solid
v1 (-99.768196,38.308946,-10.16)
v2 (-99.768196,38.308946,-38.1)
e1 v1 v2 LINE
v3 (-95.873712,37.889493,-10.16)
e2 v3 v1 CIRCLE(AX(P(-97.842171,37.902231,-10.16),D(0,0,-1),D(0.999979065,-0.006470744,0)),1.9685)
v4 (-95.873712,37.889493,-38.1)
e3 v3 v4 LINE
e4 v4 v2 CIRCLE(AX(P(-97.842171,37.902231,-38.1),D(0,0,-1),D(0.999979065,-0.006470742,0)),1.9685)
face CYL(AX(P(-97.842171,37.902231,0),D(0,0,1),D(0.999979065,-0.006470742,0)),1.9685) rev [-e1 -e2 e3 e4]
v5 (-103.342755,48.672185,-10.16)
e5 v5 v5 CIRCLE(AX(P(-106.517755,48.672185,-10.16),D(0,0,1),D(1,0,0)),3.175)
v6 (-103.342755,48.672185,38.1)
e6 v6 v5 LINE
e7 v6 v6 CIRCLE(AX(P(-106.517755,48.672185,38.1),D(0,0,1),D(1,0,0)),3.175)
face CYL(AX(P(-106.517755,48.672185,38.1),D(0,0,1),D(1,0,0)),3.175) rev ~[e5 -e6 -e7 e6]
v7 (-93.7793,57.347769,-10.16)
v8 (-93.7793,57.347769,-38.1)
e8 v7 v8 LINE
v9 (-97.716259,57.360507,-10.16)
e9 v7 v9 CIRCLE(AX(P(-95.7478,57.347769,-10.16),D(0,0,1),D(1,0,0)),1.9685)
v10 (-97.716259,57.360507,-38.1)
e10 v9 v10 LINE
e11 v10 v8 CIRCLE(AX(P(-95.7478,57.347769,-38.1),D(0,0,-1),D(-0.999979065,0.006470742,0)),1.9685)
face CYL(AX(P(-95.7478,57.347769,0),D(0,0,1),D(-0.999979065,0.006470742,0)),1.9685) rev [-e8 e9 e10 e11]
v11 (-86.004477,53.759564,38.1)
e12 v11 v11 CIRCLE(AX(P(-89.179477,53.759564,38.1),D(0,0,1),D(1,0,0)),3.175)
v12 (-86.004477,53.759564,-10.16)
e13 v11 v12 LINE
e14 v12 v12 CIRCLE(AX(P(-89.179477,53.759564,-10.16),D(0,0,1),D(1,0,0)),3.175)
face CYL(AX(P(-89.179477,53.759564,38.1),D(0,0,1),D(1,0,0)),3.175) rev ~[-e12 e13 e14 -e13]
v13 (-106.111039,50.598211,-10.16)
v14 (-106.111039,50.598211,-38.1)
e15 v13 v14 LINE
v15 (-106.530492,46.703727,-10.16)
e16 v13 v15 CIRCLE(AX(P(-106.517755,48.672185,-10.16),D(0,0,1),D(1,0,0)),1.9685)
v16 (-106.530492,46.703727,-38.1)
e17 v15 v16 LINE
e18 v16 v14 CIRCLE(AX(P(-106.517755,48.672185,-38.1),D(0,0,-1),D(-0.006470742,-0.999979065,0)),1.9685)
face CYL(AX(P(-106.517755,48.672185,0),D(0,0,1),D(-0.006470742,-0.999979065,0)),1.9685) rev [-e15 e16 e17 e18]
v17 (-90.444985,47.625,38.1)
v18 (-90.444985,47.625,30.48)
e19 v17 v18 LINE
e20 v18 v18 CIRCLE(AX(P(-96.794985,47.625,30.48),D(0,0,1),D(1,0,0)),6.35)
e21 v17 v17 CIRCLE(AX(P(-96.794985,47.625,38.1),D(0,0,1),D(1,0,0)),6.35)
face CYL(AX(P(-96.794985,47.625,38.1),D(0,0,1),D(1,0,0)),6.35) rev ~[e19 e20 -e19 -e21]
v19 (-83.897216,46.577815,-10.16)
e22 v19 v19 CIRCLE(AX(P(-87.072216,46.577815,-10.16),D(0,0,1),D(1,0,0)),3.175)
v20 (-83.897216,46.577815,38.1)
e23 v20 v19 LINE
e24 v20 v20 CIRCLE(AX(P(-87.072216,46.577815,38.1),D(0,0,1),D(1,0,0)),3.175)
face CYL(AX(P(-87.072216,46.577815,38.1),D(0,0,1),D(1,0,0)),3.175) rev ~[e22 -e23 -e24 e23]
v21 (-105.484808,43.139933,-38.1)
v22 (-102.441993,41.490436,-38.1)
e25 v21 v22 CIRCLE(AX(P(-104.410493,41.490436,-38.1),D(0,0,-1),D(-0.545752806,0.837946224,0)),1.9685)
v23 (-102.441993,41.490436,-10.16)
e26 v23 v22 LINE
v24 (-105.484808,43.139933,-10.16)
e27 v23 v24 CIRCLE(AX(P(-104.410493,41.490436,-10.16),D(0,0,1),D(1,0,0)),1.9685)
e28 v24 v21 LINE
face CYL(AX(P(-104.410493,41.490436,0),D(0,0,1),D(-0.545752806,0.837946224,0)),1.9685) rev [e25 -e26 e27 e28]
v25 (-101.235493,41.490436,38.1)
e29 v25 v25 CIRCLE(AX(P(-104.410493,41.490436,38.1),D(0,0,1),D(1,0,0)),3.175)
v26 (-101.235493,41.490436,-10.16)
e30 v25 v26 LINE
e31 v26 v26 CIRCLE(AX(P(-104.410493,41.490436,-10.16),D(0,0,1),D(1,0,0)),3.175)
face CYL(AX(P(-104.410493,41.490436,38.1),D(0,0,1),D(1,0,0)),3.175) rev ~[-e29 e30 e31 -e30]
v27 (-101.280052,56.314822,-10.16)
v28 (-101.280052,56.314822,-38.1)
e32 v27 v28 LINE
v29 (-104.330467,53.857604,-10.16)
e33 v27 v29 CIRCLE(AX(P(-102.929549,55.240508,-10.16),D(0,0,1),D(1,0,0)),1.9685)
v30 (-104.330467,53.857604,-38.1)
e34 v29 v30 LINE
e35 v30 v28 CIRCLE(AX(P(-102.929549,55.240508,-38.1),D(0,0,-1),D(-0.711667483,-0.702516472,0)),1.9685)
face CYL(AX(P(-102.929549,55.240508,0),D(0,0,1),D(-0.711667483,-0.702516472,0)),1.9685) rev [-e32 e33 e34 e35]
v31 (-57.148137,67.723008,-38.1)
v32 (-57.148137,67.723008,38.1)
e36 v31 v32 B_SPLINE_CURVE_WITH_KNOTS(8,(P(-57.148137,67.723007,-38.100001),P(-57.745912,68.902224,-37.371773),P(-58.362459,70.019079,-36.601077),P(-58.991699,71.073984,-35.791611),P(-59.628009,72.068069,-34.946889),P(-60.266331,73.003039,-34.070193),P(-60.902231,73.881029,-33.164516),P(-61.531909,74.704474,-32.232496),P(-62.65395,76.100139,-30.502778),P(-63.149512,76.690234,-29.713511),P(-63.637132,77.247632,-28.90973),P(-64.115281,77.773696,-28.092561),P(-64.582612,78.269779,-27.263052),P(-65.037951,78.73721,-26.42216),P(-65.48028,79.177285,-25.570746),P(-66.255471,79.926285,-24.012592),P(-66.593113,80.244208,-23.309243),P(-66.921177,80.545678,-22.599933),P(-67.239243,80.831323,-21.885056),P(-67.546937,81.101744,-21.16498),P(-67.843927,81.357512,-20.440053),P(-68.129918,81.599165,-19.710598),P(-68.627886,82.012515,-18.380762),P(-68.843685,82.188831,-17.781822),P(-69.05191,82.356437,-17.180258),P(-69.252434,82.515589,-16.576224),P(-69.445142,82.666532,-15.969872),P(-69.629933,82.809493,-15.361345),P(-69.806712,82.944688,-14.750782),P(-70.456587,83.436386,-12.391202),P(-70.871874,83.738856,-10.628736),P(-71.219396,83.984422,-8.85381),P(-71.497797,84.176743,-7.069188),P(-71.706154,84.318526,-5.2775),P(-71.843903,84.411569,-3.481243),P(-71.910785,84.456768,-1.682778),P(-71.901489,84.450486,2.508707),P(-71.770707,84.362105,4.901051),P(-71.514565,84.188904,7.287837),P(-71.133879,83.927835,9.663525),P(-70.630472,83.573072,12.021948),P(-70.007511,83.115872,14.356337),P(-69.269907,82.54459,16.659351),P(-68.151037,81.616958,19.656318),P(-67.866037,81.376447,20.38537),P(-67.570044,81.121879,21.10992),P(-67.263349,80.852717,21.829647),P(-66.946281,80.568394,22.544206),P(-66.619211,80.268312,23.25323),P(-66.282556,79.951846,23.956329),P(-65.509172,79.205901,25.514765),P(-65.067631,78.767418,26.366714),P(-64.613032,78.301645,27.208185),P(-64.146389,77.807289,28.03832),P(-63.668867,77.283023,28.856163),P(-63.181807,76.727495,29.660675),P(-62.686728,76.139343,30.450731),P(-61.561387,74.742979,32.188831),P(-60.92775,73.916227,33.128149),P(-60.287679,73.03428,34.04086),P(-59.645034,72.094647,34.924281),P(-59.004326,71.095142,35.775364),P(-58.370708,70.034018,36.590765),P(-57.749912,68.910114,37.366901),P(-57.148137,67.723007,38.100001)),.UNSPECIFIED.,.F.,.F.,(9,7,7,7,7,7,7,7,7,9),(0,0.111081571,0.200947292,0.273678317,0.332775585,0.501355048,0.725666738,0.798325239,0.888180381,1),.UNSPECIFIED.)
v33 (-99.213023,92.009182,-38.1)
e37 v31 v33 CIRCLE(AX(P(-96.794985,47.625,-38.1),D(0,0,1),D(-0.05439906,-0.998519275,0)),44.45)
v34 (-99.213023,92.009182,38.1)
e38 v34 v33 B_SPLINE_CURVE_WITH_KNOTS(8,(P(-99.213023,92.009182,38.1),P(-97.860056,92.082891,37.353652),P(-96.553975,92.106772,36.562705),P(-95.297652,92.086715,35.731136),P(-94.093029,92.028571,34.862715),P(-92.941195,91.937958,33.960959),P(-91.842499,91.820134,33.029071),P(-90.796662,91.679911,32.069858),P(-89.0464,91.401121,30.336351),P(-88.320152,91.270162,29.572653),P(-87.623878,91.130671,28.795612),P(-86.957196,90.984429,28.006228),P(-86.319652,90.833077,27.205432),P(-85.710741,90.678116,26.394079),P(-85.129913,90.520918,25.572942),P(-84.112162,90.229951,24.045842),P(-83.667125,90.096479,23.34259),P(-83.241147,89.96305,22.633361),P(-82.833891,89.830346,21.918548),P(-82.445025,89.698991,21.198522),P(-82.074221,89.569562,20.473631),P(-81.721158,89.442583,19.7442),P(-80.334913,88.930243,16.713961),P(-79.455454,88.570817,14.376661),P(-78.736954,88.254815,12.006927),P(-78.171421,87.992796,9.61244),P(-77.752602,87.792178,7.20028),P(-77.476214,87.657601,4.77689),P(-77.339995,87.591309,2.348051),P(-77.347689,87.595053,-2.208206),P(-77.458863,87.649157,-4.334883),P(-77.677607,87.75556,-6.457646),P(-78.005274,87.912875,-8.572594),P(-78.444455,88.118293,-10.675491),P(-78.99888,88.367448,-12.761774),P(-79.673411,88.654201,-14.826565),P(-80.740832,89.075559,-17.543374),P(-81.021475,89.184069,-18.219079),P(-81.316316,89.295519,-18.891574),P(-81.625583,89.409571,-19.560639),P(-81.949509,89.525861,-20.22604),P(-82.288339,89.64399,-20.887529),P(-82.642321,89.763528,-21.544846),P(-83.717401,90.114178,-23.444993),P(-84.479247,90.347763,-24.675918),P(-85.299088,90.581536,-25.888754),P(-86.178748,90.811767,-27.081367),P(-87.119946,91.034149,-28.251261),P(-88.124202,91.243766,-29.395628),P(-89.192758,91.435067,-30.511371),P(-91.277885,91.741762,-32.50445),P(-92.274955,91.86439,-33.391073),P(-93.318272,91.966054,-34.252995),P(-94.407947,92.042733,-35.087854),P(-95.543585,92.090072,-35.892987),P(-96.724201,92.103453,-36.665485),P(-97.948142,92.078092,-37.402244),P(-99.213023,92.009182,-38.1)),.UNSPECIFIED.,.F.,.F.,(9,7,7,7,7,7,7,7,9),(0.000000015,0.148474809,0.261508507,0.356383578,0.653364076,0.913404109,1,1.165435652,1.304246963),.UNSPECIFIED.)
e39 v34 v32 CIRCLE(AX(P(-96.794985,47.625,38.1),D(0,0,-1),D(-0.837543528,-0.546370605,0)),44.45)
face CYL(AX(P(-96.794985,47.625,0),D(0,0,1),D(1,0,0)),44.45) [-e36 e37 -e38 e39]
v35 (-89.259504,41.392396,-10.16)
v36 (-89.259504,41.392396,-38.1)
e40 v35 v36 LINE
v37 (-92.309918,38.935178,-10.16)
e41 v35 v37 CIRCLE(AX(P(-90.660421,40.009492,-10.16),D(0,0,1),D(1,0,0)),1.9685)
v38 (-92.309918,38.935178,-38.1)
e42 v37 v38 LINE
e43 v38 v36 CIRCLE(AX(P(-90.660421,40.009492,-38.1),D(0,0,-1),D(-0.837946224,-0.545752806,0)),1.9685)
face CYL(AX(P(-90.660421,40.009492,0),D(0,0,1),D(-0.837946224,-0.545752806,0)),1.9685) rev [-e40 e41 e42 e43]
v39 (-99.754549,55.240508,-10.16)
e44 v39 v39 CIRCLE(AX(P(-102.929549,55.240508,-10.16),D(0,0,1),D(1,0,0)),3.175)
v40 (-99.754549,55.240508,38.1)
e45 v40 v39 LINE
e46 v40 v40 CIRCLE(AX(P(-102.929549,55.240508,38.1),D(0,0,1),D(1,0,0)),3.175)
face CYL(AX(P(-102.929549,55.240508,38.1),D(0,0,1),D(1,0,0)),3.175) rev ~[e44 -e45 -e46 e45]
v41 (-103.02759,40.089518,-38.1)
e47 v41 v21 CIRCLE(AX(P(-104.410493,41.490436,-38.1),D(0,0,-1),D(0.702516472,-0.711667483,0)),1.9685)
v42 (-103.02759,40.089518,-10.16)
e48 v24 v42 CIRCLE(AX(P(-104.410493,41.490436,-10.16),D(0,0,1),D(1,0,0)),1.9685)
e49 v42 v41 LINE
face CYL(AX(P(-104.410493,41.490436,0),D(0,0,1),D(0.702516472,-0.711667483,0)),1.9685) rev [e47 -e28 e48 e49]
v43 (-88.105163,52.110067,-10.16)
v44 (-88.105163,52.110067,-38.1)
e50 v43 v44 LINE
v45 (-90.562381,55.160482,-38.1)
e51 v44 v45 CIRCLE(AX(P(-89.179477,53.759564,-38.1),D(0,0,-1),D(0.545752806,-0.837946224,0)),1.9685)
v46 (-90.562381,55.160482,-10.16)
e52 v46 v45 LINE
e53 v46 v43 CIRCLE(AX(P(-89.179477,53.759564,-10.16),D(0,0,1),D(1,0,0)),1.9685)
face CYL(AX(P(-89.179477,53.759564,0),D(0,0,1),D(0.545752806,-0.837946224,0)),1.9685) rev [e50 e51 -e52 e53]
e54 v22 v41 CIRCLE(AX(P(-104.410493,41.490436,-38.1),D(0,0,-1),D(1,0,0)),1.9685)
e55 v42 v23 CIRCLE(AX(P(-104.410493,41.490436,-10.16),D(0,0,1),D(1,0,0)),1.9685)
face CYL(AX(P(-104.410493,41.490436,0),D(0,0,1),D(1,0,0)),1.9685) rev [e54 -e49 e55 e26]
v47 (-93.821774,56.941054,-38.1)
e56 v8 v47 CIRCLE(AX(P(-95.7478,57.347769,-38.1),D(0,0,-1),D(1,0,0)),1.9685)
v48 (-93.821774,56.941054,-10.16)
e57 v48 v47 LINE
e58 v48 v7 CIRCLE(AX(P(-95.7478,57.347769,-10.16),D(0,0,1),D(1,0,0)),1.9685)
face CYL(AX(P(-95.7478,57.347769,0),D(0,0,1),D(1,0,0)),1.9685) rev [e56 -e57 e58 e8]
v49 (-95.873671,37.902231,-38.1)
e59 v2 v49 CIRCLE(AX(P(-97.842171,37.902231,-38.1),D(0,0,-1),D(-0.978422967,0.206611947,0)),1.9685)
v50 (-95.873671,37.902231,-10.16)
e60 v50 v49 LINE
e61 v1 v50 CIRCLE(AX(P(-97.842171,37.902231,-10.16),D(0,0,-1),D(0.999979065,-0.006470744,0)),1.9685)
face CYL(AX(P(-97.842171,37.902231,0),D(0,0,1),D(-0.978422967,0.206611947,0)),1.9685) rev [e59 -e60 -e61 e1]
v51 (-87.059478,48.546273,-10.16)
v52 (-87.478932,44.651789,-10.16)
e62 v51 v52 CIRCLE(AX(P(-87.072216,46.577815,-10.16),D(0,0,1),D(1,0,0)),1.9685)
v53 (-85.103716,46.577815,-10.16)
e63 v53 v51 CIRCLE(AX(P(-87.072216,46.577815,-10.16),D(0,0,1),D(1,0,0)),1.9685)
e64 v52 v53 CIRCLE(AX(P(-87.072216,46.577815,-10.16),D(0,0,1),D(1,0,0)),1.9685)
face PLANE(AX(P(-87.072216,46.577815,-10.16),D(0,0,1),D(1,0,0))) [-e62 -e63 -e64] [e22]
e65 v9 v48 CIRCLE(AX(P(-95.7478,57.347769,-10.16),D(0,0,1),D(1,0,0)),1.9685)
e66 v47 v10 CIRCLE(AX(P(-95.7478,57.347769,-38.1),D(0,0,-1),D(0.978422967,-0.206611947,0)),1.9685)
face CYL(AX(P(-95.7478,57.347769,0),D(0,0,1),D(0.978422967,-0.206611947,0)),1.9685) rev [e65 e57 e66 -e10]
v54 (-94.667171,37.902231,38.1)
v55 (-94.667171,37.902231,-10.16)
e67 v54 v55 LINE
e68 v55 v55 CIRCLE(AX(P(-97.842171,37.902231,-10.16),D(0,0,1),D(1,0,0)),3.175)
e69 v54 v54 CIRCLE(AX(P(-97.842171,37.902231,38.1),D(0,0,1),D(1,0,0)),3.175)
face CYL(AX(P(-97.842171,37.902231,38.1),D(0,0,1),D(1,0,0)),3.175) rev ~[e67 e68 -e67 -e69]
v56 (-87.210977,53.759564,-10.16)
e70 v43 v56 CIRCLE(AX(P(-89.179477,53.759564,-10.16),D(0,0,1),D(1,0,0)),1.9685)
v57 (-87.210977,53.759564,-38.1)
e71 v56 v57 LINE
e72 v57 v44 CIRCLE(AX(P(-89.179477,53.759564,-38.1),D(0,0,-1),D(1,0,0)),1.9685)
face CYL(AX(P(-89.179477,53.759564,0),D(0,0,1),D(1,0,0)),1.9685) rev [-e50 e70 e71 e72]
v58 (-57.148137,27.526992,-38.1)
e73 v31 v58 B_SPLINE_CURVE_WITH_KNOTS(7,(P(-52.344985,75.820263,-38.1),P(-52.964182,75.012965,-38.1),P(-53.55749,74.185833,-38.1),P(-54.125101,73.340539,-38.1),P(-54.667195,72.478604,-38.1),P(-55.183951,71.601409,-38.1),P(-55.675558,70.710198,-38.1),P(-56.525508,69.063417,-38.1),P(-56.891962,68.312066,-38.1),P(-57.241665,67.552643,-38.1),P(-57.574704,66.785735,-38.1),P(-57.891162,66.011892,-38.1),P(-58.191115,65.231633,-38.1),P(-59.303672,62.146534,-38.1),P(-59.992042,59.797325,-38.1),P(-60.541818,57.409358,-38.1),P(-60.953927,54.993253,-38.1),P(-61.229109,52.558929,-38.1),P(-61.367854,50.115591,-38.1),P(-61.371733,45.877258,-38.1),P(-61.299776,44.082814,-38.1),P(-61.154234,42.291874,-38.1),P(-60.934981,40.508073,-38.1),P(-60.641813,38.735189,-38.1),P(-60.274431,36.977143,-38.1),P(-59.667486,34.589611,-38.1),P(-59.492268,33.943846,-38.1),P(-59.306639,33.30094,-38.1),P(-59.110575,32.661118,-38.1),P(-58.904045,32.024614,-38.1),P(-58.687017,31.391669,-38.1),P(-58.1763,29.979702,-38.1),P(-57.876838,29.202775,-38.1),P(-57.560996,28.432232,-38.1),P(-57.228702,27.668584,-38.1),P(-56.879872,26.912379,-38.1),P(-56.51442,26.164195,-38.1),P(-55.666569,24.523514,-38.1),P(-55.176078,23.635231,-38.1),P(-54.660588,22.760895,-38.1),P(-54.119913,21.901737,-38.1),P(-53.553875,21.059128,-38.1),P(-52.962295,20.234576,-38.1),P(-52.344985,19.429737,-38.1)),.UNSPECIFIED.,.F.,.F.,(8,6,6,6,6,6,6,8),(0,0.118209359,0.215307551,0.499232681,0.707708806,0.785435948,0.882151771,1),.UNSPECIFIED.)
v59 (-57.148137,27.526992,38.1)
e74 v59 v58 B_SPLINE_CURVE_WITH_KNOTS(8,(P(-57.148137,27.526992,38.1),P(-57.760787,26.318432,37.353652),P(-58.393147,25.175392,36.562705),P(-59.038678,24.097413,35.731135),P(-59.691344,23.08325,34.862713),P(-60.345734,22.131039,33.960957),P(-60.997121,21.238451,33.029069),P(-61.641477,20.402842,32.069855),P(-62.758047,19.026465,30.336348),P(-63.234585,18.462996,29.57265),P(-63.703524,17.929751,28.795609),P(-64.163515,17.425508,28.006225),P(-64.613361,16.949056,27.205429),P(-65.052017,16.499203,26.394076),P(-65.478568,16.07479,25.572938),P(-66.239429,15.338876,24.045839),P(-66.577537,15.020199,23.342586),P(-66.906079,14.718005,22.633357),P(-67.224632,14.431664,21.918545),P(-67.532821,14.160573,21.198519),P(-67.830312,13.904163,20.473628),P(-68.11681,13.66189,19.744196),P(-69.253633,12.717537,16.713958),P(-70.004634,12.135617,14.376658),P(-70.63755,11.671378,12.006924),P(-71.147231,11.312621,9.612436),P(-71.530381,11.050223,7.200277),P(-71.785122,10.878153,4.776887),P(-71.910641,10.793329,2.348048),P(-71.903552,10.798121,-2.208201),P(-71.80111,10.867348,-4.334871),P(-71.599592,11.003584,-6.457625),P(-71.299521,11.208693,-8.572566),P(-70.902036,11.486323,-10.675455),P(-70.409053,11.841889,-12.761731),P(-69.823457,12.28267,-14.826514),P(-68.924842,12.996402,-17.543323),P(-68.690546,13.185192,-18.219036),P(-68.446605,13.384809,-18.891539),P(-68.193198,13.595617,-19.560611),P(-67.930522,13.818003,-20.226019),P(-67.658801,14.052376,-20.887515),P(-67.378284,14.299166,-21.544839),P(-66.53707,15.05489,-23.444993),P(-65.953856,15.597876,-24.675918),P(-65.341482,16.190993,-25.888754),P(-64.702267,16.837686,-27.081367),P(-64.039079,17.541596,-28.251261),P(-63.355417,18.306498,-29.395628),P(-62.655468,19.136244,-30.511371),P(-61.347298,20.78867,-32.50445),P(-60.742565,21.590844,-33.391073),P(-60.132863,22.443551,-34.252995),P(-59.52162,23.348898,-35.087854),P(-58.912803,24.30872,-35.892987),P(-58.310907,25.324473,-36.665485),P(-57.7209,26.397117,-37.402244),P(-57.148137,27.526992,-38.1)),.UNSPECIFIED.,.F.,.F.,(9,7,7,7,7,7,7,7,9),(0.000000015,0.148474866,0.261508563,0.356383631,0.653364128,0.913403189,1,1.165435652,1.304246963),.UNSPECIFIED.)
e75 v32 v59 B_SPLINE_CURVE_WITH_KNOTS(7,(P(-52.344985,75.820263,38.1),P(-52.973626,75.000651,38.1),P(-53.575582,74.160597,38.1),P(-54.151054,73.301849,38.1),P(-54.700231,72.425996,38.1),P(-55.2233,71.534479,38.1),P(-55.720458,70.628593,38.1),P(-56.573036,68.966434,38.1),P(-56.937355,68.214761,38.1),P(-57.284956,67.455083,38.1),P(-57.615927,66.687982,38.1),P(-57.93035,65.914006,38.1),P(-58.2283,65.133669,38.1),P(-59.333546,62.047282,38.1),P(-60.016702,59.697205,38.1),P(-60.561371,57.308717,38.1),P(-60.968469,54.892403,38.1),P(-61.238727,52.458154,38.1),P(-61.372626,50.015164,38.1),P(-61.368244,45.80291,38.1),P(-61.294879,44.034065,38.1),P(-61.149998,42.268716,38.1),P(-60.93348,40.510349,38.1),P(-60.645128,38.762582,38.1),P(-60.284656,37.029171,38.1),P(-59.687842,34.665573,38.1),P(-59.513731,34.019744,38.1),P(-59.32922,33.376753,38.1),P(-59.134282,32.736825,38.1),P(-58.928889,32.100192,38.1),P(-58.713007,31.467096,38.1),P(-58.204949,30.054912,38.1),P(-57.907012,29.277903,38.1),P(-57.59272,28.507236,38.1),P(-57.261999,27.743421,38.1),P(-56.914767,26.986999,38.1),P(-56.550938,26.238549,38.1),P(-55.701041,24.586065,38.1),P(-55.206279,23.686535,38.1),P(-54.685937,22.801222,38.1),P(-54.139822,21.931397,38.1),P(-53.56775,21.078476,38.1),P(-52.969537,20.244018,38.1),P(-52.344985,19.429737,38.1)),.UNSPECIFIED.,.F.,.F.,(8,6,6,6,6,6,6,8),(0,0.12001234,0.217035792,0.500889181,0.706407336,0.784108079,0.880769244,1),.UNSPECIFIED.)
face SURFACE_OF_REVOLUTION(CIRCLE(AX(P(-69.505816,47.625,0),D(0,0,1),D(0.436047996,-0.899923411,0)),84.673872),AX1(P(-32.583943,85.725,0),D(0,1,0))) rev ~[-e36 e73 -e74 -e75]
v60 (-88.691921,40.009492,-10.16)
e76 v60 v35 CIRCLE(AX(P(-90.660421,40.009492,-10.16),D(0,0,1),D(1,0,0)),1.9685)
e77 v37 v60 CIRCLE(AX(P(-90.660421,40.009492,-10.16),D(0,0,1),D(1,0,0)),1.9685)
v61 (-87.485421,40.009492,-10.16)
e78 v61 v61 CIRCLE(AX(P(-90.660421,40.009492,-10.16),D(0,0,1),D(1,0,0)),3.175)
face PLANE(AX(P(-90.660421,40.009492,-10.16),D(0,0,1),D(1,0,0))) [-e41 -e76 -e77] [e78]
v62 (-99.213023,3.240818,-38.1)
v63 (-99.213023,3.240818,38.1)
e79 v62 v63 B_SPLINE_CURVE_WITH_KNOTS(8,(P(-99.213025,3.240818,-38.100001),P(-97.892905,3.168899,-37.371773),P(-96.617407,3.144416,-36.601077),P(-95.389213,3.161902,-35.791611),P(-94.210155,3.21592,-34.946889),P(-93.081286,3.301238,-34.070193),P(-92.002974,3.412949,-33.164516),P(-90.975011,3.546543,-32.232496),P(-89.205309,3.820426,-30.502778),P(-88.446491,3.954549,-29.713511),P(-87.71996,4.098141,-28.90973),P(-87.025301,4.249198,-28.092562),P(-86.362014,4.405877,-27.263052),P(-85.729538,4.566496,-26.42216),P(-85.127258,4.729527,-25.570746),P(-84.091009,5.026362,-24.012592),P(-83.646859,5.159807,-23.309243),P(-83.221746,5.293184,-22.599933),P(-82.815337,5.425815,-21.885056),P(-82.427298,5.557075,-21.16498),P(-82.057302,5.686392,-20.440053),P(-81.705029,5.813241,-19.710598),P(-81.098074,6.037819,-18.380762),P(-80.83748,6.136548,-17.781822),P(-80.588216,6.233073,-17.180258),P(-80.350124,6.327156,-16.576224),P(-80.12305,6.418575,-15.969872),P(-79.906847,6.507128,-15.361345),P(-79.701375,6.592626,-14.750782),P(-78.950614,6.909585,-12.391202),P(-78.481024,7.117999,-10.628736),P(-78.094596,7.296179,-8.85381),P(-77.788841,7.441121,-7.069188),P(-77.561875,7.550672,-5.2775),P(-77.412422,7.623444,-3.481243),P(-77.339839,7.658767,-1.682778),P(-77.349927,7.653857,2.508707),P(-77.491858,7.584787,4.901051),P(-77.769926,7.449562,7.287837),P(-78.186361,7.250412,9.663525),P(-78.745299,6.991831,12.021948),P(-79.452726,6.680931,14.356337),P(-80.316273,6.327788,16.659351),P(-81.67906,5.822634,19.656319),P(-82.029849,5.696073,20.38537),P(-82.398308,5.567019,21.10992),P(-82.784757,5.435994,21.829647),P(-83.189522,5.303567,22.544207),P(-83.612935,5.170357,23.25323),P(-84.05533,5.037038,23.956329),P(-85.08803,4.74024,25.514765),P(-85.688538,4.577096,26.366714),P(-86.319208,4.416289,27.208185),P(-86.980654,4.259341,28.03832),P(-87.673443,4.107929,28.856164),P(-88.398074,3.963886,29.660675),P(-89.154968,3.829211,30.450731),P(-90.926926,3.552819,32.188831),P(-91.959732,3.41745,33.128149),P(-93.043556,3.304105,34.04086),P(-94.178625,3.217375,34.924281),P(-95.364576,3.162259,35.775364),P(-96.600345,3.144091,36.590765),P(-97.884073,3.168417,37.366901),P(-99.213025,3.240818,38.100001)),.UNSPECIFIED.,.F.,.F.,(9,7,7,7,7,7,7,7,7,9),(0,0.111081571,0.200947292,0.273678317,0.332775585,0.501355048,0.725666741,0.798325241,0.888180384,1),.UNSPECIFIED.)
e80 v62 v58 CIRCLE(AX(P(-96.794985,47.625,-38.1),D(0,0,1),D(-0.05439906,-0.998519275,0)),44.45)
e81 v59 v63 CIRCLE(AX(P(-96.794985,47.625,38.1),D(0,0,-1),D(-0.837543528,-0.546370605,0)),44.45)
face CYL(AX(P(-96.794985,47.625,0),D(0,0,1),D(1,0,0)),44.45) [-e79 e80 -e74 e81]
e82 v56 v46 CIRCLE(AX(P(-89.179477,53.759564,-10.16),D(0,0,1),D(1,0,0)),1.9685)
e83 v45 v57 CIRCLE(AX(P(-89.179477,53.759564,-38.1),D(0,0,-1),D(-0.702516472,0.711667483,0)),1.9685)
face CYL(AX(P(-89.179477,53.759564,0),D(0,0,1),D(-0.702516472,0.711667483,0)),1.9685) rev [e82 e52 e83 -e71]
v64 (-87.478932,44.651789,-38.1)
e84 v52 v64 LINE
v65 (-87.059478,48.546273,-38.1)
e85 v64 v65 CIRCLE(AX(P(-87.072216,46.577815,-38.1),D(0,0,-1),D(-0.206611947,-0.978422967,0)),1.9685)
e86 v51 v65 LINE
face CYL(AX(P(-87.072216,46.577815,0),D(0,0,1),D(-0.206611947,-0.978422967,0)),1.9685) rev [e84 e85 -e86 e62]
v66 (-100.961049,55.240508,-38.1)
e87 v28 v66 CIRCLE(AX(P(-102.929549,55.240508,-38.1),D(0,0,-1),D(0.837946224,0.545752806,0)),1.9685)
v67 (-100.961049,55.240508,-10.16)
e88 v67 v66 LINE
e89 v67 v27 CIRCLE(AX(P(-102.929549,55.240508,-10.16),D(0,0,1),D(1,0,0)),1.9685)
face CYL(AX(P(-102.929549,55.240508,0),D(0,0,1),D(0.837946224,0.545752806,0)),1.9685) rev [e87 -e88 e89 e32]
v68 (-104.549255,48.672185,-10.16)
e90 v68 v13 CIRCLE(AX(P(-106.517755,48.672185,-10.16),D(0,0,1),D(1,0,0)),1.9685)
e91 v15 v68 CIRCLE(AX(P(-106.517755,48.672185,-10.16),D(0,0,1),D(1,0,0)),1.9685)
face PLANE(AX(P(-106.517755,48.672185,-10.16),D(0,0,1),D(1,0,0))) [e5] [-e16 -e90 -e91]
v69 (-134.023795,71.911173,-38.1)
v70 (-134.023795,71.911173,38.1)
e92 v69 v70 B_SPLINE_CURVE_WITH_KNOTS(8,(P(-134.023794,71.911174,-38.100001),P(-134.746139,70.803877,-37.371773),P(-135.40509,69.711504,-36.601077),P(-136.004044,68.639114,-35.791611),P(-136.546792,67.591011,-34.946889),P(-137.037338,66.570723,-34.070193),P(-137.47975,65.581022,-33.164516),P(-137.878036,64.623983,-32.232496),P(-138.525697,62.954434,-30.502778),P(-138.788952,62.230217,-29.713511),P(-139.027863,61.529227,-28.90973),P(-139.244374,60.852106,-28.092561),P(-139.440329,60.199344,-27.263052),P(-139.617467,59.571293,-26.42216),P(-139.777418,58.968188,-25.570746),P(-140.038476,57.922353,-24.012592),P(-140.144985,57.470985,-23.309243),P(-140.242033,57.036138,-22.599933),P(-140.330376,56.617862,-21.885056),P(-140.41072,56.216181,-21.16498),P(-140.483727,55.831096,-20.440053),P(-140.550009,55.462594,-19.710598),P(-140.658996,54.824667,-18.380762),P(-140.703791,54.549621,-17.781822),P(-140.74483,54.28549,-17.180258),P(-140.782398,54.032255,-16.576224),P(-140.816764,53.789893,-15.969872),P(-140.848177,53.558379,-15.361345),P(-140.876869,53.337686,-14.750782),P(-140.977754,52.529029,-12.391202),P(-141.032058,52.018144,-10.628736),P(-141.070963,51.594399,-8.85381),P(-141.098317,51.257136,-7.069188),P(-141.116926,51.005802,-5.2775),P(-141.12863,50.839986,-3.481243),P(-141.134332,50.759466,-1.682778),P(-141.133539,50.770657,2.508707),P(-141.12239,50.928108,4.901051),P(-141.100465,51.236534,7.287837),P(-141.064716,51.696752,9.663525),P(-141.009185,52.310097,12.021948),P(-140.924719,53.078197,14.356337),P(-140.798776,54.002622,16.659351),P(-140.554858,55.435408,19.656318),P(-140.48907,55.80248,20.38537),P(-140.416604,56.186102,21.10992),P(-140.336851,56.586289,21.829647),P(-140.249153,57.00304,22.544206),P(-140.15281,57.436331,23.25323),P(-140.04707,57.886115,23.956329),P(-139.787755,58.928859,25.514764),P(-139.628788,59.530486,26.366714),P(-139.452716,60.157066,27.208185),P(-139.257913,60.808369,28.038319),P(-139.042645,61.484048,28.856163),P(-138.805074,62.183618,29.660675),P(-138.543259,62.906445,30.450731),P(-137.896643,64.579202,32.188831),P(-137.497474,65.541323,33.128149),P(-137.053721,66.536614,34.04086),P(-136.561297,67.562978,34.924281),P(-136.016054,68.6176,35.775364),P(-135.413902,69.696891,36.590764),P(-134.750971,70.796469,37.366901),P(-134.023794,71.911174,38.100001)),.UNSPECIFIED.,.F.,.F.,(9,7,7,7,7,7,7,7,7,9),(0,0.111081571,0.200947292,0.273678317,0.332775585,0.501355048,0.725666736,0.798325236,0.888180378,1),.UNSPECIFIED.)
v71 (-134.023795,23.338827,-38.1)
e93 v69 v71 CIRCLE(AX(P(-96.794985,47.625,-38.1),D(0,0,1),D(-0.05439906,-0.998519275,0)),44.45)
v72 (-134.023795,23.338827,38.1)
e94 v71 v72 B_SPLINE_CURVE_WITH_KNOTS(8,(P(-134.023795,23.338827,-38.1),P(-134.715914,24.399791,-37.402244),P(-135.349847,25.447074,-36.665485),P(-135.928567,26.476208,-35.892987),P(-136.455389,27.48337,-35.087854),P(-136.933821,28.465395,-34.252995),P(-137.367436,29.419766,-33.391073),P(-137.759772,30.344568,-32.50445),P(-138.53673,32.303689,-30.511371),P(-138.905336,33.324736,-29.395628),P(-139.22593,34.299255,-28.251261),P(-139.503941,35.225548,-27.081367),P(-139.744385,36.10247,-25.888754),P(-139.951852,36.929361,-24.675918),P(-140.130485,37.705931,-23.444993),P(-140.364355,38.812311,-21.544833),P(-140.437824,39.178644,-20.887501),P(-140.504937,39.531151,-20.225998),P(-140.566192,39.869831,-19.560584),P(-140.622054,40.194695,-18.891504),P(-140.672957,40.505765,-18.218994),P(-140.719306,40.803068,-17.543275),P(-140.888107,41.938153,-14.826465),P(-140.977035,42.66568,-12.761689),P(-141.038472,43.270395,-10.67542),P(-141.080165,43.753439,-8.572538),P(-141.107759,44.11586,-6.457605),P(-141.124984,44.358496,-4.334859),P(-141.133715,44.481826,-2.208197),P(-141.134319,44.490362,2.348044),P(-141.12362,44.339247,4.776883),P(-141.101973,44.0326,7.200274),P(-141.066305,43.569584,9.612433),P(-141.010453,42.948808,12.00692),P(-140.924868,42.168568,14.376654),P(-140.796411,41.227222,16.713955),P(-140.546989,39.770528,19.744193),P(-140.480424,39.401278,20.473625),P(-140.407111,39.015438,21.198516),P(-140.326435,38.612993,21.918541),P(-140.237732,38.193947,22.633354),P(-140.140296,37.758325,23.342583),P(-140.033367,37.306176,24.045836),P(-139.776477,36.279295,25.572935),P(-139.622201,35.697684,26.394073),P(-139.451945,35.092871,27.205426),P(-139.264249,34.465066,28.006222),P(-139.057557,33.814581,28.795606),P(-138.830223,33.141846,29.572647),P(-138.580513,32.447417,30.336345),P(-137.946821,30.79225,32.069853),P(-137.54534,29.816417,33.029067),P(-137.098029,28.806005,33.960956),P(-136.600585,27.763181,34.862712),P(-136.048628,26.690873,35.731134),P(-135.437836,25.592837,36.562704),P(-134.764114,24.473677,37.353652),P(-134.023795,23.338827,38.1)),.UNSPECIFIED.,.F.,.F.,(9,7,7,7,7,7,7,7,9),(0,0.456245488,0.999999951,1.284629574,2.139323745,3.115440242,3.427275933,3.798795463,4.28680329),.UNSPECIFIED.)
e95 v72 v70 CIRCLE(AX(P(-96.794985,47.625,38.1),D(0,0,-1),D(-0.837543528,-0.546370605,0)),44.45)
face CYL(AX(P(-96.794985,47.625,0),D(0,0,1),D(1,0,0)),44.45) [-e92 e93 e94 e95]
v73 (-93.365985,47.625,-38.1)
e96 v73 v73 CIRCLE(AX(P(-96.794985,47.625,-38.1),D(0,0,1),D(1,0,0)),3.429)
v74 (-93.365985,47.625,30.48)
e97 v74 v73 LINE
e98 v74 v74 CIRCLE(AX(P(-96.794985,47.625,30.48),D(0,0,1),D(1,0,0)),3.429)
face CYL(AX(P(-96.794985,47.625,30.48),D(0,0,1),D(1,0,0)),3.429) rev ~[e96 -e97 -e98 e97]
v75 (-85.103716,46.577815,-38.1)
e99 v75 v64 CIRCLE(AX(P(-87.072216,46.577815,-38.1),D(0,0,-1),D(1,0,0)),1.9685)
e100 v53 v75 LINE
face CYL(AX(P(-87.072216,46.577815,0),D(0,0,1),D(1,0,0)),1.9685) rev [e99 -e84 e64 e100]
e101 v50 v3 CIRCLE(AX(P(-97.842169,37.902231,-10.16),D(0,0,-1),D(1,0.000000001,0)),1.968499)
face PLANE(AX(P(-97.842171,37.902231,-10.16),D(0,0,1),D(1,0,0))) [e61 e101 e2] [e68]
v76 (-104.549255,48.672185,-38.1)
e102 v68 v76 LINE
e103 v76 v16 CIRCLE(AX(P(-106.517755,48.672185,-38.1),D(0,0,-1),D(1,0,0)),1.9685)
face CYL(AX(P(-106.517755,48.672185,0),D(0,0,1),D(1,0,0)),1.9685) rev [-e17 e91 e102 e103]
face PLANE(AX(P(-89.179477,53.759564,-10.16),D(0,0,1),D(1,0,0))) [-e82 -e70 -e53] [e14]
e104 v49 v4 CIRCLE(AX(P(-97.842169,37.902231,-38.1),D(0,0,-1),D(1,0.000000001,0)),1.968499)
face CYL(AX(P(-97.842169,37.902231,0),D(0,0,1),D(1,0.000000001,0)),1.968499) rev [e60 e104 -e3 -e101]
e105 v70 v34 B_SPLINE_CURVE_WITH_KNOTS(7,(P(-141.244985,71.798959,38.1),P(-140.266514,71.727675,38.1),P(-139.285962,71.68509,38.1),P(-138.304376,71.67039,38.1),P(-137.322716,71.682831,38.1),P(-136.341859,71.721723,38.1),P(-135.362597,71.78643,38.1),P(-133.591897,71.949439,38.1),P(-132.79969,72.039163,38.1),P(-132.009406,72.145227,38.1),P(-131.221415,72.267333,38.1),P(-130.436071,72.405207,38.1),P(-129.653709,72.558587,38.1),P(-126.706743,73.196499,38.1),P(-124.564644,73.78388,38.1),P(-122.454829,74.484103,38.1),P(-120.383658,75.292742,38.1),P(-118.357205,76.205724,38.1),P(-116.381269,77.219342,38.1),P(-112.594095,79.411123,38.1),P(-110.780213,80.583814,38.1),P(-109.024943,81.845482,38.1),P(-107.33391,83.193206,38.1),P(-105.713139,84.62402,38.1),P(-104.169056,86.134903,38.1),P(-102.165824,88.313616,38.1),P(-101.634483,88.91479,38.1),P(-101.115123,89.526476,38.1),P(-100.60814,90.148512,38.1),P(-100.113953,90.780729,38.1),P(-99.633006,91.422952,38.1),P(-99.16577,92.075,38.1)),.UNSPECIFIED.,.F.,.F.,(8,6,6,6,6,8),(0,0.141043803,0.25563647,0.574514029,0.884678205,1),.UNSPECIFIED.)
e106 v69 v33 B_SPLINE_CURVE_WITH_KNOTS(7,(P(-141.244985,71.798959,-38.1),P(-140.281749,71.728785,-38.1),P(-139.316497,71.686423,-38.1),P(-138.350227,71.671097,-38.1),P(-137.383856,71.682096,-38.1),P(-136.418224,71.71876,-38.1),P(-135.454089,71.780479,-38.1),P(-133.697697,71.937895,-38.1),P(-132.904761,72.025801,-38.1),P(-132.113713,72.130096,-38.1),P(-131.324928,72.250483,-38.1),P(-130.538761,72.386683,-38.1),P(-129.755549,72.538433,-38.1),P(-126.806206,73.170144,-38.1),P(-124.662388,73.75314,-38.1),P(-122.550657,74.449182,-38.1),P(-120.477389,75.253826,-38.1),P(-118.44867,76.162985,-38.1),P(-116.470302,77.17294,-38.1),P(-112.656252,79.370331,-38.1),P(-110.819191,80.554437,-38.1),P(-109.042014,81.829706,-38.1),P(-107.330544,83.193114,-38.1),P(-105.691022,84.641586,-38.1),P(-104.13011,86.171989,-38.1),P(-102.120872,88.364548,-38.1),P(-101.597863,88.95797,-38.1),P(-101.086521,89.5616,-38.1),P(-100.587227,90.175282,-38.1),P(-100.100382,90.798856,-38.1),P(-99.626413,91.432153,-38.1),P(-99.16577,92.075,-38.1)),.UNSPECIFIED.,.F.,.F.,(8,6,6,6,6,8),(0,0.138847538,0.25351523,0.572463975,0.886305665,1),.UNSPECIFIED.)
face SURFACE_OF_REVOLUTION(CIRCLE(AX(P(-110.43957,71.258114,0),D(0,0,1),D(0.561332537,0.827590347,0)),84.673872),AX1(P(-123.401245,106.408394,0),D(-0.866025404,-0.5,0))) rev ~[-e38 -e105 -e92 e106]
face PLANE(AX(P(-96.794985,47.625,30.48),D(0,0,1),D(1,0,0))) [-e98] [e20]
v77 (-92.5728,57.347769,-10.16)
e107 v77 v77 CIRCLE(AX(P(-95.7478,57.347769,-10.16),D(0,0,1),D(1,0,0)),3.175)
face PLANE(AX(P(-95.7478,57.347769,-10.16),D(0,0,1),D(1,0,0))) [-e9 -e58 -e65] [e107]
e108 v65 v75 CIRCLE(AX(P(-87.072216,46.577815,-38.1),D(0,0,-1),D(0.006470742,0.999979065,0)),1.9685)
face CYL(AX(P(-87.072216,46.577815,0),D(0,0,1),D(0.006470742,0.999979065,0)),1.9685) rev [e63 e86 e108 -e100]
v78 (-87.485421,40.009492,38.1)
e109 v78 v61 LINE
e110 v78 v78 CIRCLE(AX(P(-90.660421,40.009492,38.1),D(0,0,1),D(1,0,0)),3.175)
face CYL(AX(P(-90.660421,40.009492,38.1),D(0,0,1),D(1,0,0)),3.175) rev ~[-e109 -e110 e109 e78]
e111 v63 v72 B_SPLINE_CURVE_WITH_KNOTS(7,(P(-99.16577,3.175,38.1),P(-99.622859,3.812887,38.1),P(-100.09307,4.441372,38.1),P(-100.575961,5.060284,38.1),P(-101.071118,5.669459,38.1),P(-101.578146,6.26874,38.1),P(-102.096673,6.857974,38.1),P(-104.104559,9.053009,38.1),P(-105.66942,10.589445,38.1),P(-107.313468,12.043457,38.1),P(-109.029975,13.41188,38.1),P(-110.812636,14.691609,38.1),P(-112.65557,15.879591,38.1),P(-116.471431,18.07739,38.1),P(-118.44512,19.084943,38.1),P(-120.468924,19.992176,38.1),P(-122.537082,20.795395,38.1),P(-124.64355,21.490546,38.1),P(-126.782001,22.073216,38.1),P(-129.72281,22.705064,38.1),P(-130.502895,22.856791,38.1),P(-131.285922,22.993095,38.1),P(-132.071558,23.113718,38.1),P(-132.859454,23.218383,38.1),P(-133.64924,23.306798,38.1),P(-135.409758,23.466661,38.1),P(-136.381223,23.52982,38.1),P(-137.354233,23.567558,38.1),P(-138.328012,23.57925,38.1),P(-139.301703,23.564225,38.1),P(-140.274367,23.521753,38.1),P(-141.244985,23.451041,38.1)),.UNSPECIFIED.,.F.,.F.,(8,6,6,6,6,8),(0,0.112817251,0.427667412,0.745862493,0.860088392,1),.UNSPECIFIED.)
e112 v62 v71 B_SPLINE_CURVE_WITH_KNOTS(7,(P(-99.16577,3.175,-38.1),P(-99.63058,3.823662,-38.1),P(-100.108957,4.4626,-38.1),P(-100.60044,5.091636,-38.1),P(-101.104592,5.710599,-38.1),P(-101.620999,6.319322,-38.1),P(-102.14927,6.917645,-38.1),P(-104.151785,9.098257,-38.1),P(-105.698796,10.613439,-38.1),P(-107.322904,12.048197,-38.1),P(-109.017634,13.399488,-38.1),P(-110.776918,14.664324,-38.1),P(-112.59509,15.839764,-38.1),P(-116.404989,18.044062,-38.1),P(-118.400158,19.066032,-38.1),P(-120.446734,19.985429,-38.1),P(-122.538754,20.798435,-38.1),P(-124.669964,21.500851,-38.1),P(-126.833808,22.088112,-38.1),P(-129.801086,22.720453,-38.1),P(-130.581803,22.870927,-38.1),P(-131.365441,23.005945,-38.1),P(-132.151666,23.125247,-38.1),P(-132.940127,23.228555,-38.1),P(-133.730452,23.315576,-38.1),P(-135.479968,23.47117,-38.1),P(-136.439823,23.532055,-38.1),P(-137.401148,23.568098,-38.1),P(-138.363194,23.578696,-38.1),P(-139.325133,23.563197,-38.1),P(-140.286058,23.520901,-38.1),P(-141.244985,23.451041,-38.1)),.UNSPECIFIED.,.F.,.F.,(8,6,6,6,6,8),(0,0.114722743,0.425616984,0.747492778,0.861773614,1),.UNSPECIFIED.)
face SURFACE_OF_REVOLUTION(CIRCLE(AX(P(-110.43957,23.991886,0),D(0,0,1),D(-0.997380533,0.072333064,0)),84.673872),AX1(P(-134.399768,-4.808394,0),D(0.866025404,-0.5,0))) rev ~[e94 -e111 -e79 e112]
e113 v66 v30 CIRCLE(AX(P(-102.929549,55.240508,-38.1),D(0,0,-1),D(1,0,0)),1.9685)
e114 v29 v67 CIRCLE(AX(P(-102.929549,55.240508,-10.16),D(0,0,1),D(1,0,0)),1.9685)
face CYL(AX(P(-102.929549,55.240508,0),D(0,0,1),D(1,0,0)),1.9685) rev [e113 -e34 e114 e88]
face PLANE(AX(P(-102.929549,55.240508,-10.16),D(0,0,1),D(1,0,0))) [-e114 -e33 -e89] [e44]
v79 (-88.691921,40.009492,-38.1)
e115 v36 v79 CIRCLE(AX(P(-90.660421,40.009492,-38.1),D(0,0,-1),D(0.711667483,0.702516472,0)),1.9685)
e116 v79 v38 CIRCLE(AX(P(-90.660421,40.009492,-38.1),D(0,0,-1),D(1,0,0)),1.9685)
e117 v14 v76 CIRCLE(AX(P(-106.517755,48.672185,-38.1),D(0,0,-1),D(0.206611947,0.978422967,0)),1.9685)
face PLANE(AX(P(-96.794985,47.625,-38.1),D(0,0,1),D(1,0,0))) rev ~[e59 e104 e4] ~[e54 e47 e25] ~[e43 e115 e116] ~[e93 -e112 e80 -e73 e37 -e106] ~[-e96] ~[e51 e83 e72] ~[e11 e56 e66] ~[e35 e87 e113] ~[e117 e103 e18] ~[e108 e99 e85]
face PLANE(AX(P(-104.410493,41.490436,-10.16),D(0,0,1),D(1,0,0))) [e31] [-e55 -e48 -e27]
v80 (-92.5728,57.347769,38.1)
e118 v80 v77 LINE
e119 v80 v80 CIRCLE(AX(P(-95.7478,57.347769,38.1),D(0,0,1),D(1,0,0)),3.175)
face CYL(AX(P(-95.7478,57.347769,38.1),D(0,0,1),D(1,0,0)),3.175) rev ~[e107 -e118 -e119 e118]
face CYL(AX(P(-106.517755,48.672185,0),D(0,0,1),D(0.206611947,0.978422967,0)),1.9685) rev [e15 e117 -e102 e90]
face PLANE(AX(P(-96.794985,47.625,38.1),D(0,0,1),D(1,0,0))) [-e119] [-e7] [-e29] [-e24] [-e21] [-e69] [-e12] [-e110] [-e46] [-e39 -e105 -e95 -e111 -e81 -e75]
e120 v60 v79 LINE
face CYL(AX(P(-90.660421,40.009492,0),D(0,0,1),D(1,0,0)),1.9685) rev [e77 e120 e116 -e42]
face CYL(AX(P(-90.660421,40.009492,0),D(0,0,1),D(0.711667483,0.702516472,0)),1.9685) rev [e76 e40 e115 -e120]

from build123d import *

# Parameters (mm, degrees)
F0_R          = 44.45
F0_R_2        = 16.51
F1_DEPTH      = 38.1
F1_DEPTH_BACK = 38.1
F4_R          = 3.175
F4_R_2        = 1.9685
F5_DEPTH      = 48.26
F6_R          = 6.35
F7_DEPTH      = 7.62
F8_R          = 3.429
F9_DEPTH      = 68.58


with BuildPart() as f1:
    # F0 (on Top) → F1 (new body, two sides)
    with BuildSketch(Plane.XY) as f1_sk:
        with Locations((-96.7949852347, 47.625)):
            Circle(F0_R)
        with Locations((-96.7949852347, 47.625)):
            Circle(F0_R_2, mode=Mode.SUBTRACT)
        with Locations((-96.7949852347, 47.625)):
            Circle(F0_R_2)
        with BuildLine():
            ThreePointArc((-88.1051627648, 52.1100670498), (-87.4115771175, 50.37826953), (-87.0594782396, 48.5462733292))
            ThreePointArc((-87.0594782396, 48.5462733292), (-85.6757800173, 47.965243489), (-85.103715896, 46.5778145407))
            ThreePointArc((-85.103715896, 46.5778145407), (-85.8323827306, 45.0488259953), (-87.478931514, 44.6517889292))
            ThreePointArc((-87.478931514, 44.6517889292), (-88.2130581693, 42.9367840447), (-89.2595036018, 41.3923956038))
            ThreePointArc((-89.2595036018, 41.3923956038), (-88.839336444, 40.7569162622), (-88.6919210429, 40.0094919292))
            ThreePointArc((-88.6919210429, 40.0094919292), (-90.1000831422, 38.1224270954), (-92.309918185, 38.9351775301))
            ThreePointArc((-92.309918185, 38.9351775301), (-94.0417157047, 38.2415918827), (-95.8737119056, 37.8894930048))
            ThreePointArc((-95.8737119056, 37.8894930048), (-98.0529677671, 35.9450498204), (-99.7681963056, 38.3089462792))
            ThreePointArc((-99.7681963056, 38.3089462792), (-101.48320119, 39.0430729345), (-103.0275896309, 40.089518367))
            ThreePointArc((-103.0275896309, 40.089518367), (-105.9434851899, 40.2555560033), (-105.4848077047, 43.1399329502))
            ThreePointArc((-105.4848077047, 43.1399329502), (-106.178393352, 44.87173047), (-106.5304922299, 46.7037266708))
            ThreePointArc((-106.5304922299, 46.7037266708), (-108.4749354144, 48.8829825323), (-106.1110389555, 50.5982110708))
            ThreePointArc((-106.1110389555, 50.5982110708), (-105.3769123002, 52.3132159553), (-104.3304668677, 53.8576043962))
            ThreePointArc((-104.3304668677, 53.8576043962), (-104.1644292314, 56.7734999551), (-101.2800522845, 56.3148224699))
            ThreePointArc((-101.2800522845, 56.3148224699), (-99.5482547647, 57.0084081173), (-97.7162585639, 57.3605069952))
            ThreePointArc((-97.7162585639, 57.3605069952), (-95.7414309138, 59.3162590358), (-93.7792997754, 57.3477693387))
            ThreePointArc((-93.7792997754, 57.3477693387), (-93.7899471678, 57.1433056087), (-93.8217741639, 56.9410537208))
            ThreePointArc((-93.8217741639, 56.9410537208), (-92.1067692795, 56.2069270655), (-90.5623808386, 55.160481633))
            ThreePointArc((-90.5623808386, 55.160481633), (-88.4202847093, 55.5757742752), (-87.210977164, 53.7595641919))
            ThreePointArc((-87.210977164, 53.7595641919), (-87.4489020941, 52.8214265806), (-88.1051627648, 52.1100670498))
        make_face(mode=Mode.SUBTRACT)
        with BuildLine():
            ThreePointArc((-87.478931514, 44.6517889292), (-89.0293967369, 46.7886116136), (-87.0594782396, 48.5462733292))
            ThreePointArc((-87.0594782396, 48.5462733292), (-87.4115771175, 50.37826953), (-88.1051627648, 52.1100670498))
            ThreePointArc((-88.1051627648, 52.1100670498), (-90.7124690483, 52.524684387), (-90.5623808386, 55.160481633))
            ThreePointArc((-90.5623808386, 55.160481633), (-92.1067692795, 56.2069270655), (-93.8217741639, 56.9410537208))
            ThreePointArc((-93.8217741639, 56.9410537208), (-95.9585968484, 55.3905884978), (-97.7162585639, 57.3605069952))
            ThreePointArc((-97.7162585639, 57.3605069952), (-99.5482547647, 57.0084081173), (-101.2800522845, 56.3148224699))
            ThreePointArc((-101.2800522845, 56.3148224699), (-101.0424845928, 55.8008459714), (-100.9610494266, 55.2405080708))
            ThreePointArc((-100.9610494266, 55.2405080708), (-102.1821250936, 53.4194234719), (-104.3304668677, 53.8576043962))
            ThreePointArc((-104.3304668677, 53.8576043962), (-105.3769123002, 52.3132159553), (-106.1110389555, 50.5982110708))
            ThreePointArc((-106.1110389555, 50.5982110708), (-104.988766028, 49.9120186247), (-104.5492545734, 48.6721854593))
            ThreePointArc((-104.5492545734, 48.6721854593), (-105.1303256251, 47.2757495806), (-106.5304922299, 46.7037266708))
            ThreePointArc((-106.5304922299, 46.7037266708), (-106.178393352, 44.87173047), (-105.4848077047, 43.1399329502))
            ThreePointArc((-105.4848077047, 43.1399329502), (-103.4723556943, 43.221010878), (-102.4419933055, 41.4904358081))
            ThreePointArc((-102.4419933055, 41.4904358081), (-102.5942832222, 40.7312433534), (-103.0275896309, 40.089518367))
            ThreePointArc((-103.0275896309, 40.089518367), (-101.48320119, 39.0430729345), (-99.7681963056, 38.3089462792))
            ThreePointArc((-99.7681963056, 38.3089462792), (-97.6377069641, 39.8600832689), (-95.8736706941, 37.9022306613))
            ThreePointArc((-95.8736706941, 37.9022306613), (-95.873680997, 37.8958617997), (-95.8737119056, 37.8894930048))
            ThreePointArc((-95.8737119056, 37.8894930048), (-94.0417157047, 38.2415918827), (-92.309918185, 38.9351775301))
            ThreePointArc((-92.309918185, 38.9351775301), (-91.8953008477, 41.5424838136), (-89.2595036018, 41.3923956038))
            ThreePointArc((-89.2595036018, 41.3923956038), (-88.2130581693, 42.9367840447), (-87.478931514, 44.6517889292))
        make_face()
    extrude(amount=F1_DEPTH)
    extrude(f1_sk.sketch, amount=-F1_DEPTH_BACK)

    # F2 (on Top) → F3 (revolve, cut)
    with BuildSketch(Plane.XY):
        with BuildLine():
            Line((-93.0453224617, -28.6843935659), (-128.9005062292, -7.9833935659))
            Line((-128.9005062292, -7.9833935659), (-175.7542126247, 19.0676064341))
            Line((-175.7542126247, 19.0676064341), (-194.8916419976, 30.1166064341))
            ThreePointArc((-194.8916419976, 30.1166064341), (-152.7765062292, -49.3378386474), (-62.9093704608, -46.0833935659))
            Line((-62.9093704608, -46.0833935659), (-93.0453224617, -28.6843935659))
        make_face()
        with BuildLine():
            Line((-164.7556899967, 82.5323935659), (-128.9005062292, 103.2333935659))
            Line((-128.9005062292, 103.2333935659), (-82.0467998336, 130.2843935659))
            Line((-82.0467998336, 130.2843935659), (-62.9093704608, 141.3333935659))
            ThreePointArc((-62.9093704608, 141.3333935659), (-152.7765062292, 144.5878386474), (-194.8916419976, 65.1333935659))
            Line((-194.8916419976, 65.1333935659), (-164.7556899967, 82.5323935659))
        make_face()
        with BuildLine():
            Line((-32.5839432458, 89.027), (-32.5839432458, 47.625))
            Line((-32.5839432458, 47.625), (-32.5839432458, -6.477))
            Line((-32.5839432458, -6.477), (-32.5839432458, -28.575))
            ThreePointArc((-32.5839432458, -28.575), (15.1680567542, 47.625), (-32.5839432458, 123.825))
            Line((-32.5839432458, 123.825), (-32.5839432458, 89.027))
        make_face()
    revolve(axis=Axis((-134.3997675432, -4.8083935659, 0), (0.8660254038, -0.5, 0)), mode=Mode.SUBTRACT)

    # F4 (on face) → F5 (cut)
    with BuildSketch(Plane.XY.offset(38.1)):
        with Locations((-102.9295494266, 55.2405080708)):
            Circle(F4_R)
        with Locations((-102.9295494266, 55.2405080708)):
            Circle(F4_R_2, mode=Mode.SUBTRACT)
        with Locations((-95.7477997754, 57.3477693387)):
            Circle(F4_R)
        with Locations((-95.7477997754, 57.3477693387)):
            Circle(F4_R_2, mode=Mode.SUBTRACT)
        with Locations((-89.179477164, 53.7595641919)):
            Circle(F4_R)
        with Locations((-89.179477164, 53.7595641919)):
            Circle(F4_R_2, mode=Mode.SUBTRACT)
        with Locations((-87.072215896, 46.5778145407)):
            Circle(F4_R)
        with Locations((-87.072215896, 46.5778145407)):
            Circle(F4_R_2, mode=Mode.SUBTRACT)
        with Locations((-90.6604210429, 40.0094919292)):
            Circle(F4_R)
        with Locations((-90.6604210429, 40.0094919292)):
            Circle(F4_R_2, mode=Mode.SUBTRACT)
        with Locations((-97.8421706941, 37.9022306613)):
            Circle(F4_R)
        with BuildLine():
            ThreePointArc((-95.8736706941, 37.9022306613), (-95.873680997, 37.8958617997), (-95.8737119056, 37.8894930048))
            ThreePointArc((-95.8737119056, 37.8894930048), (-99.8106603912, 37.9085995228), (-95.8736706941, 37.9022306613))
        make_face(mode=Mode.SUBTRACT)
        with Locations((-104.4104933055, 41.4904358081)):
            Circle(F4_R)
        with Locations((-104.4104933055, 41.4904358081)):
            Circle(F4_R_2, mode=Mode.SUBTRACT)
        with Locations((-106.5177545734, 48.6721854593)):
            Circle(F4_R)
        with Locations((-106.5177545734, 48.6721854593)):
            Circle(F4_R_2, mode=Mode.SUBTRACT)
    extrude(amount=-F5_DEPTH, mode=Mode.SUBTRACT)

    # F6 (on face) → F7 (cut)
    with BuildSketch(Plane.XY.offset(38.1)):
        with Locations((-96.7949852347, 47.625)):
            Circle(F6_R)
    extrude(amount=-F7_DEPTH, mode=Mode.SUBTRACT)

    # F8 (on face) → F9 (cut, through all)
    with BuildSketch(Plane.XY.offset(30.48)):
        with Locations((-96.7949852347, 47.625)):
            Circle(F8_R)
    extrude(amount=-F9_DEPTH, mode=Mode.SUBTRACT)

    # F2 (on Top) → F10 (revolve, cut)
    with BuildSketch(Plane.XY):
        with BuildLine():
            Line((-32.5839432458, 89.027), (-32.5839432458, 47.625))
            Line((-32.5839432458, 47.625), (-32.5839432458, -6.477))
            Line((-32.5839432458, -6.477), (-32.5839432458, -28.575))
            ThreePointArc((-32.5839432458, -28.575), (15.1680567542, 47.625), (-32.5839432458, 123.825))
            Line((-32.5839432458, 123.825), (-32.5839432458, 89.027))
        make_face()
    revolve(axis=Axis((-32.5839432458, 85.725, 0), (0, 1, 0)), mode=Mode.SUBTRACT)

    # F2 (on Top) → F11 (revolve, cut)
    with BuildSketch(Plane.XY):
        with BuildLine():
            Line((-164.7556899967, 82.5323935659), (-128.9005062292, 103.2333935659))
            Line((-128.9005062292, 103.2333935659), (-82.0467998336, 130.2843935659))
            Line((-82.0467998336, 130.2843935659), (-62.9093704608, 141.3333935659))
            ThreePointArc((-62.9093704608, 141.3333935659), (-152.7765062292, 144.5878386474), (-194.8916419976, 65.1333935659))
            Line((-194.8916419976, 65.1333935659), (-164.7556899967, 82.5323935659))
        make_face()
    revolve(axis=Axis((-123.4012449152, 106.4083935659, 0), (-0.8660254038, -0.5, 0)), mode=Mode.SUBTRACT)


solid = f1.part
